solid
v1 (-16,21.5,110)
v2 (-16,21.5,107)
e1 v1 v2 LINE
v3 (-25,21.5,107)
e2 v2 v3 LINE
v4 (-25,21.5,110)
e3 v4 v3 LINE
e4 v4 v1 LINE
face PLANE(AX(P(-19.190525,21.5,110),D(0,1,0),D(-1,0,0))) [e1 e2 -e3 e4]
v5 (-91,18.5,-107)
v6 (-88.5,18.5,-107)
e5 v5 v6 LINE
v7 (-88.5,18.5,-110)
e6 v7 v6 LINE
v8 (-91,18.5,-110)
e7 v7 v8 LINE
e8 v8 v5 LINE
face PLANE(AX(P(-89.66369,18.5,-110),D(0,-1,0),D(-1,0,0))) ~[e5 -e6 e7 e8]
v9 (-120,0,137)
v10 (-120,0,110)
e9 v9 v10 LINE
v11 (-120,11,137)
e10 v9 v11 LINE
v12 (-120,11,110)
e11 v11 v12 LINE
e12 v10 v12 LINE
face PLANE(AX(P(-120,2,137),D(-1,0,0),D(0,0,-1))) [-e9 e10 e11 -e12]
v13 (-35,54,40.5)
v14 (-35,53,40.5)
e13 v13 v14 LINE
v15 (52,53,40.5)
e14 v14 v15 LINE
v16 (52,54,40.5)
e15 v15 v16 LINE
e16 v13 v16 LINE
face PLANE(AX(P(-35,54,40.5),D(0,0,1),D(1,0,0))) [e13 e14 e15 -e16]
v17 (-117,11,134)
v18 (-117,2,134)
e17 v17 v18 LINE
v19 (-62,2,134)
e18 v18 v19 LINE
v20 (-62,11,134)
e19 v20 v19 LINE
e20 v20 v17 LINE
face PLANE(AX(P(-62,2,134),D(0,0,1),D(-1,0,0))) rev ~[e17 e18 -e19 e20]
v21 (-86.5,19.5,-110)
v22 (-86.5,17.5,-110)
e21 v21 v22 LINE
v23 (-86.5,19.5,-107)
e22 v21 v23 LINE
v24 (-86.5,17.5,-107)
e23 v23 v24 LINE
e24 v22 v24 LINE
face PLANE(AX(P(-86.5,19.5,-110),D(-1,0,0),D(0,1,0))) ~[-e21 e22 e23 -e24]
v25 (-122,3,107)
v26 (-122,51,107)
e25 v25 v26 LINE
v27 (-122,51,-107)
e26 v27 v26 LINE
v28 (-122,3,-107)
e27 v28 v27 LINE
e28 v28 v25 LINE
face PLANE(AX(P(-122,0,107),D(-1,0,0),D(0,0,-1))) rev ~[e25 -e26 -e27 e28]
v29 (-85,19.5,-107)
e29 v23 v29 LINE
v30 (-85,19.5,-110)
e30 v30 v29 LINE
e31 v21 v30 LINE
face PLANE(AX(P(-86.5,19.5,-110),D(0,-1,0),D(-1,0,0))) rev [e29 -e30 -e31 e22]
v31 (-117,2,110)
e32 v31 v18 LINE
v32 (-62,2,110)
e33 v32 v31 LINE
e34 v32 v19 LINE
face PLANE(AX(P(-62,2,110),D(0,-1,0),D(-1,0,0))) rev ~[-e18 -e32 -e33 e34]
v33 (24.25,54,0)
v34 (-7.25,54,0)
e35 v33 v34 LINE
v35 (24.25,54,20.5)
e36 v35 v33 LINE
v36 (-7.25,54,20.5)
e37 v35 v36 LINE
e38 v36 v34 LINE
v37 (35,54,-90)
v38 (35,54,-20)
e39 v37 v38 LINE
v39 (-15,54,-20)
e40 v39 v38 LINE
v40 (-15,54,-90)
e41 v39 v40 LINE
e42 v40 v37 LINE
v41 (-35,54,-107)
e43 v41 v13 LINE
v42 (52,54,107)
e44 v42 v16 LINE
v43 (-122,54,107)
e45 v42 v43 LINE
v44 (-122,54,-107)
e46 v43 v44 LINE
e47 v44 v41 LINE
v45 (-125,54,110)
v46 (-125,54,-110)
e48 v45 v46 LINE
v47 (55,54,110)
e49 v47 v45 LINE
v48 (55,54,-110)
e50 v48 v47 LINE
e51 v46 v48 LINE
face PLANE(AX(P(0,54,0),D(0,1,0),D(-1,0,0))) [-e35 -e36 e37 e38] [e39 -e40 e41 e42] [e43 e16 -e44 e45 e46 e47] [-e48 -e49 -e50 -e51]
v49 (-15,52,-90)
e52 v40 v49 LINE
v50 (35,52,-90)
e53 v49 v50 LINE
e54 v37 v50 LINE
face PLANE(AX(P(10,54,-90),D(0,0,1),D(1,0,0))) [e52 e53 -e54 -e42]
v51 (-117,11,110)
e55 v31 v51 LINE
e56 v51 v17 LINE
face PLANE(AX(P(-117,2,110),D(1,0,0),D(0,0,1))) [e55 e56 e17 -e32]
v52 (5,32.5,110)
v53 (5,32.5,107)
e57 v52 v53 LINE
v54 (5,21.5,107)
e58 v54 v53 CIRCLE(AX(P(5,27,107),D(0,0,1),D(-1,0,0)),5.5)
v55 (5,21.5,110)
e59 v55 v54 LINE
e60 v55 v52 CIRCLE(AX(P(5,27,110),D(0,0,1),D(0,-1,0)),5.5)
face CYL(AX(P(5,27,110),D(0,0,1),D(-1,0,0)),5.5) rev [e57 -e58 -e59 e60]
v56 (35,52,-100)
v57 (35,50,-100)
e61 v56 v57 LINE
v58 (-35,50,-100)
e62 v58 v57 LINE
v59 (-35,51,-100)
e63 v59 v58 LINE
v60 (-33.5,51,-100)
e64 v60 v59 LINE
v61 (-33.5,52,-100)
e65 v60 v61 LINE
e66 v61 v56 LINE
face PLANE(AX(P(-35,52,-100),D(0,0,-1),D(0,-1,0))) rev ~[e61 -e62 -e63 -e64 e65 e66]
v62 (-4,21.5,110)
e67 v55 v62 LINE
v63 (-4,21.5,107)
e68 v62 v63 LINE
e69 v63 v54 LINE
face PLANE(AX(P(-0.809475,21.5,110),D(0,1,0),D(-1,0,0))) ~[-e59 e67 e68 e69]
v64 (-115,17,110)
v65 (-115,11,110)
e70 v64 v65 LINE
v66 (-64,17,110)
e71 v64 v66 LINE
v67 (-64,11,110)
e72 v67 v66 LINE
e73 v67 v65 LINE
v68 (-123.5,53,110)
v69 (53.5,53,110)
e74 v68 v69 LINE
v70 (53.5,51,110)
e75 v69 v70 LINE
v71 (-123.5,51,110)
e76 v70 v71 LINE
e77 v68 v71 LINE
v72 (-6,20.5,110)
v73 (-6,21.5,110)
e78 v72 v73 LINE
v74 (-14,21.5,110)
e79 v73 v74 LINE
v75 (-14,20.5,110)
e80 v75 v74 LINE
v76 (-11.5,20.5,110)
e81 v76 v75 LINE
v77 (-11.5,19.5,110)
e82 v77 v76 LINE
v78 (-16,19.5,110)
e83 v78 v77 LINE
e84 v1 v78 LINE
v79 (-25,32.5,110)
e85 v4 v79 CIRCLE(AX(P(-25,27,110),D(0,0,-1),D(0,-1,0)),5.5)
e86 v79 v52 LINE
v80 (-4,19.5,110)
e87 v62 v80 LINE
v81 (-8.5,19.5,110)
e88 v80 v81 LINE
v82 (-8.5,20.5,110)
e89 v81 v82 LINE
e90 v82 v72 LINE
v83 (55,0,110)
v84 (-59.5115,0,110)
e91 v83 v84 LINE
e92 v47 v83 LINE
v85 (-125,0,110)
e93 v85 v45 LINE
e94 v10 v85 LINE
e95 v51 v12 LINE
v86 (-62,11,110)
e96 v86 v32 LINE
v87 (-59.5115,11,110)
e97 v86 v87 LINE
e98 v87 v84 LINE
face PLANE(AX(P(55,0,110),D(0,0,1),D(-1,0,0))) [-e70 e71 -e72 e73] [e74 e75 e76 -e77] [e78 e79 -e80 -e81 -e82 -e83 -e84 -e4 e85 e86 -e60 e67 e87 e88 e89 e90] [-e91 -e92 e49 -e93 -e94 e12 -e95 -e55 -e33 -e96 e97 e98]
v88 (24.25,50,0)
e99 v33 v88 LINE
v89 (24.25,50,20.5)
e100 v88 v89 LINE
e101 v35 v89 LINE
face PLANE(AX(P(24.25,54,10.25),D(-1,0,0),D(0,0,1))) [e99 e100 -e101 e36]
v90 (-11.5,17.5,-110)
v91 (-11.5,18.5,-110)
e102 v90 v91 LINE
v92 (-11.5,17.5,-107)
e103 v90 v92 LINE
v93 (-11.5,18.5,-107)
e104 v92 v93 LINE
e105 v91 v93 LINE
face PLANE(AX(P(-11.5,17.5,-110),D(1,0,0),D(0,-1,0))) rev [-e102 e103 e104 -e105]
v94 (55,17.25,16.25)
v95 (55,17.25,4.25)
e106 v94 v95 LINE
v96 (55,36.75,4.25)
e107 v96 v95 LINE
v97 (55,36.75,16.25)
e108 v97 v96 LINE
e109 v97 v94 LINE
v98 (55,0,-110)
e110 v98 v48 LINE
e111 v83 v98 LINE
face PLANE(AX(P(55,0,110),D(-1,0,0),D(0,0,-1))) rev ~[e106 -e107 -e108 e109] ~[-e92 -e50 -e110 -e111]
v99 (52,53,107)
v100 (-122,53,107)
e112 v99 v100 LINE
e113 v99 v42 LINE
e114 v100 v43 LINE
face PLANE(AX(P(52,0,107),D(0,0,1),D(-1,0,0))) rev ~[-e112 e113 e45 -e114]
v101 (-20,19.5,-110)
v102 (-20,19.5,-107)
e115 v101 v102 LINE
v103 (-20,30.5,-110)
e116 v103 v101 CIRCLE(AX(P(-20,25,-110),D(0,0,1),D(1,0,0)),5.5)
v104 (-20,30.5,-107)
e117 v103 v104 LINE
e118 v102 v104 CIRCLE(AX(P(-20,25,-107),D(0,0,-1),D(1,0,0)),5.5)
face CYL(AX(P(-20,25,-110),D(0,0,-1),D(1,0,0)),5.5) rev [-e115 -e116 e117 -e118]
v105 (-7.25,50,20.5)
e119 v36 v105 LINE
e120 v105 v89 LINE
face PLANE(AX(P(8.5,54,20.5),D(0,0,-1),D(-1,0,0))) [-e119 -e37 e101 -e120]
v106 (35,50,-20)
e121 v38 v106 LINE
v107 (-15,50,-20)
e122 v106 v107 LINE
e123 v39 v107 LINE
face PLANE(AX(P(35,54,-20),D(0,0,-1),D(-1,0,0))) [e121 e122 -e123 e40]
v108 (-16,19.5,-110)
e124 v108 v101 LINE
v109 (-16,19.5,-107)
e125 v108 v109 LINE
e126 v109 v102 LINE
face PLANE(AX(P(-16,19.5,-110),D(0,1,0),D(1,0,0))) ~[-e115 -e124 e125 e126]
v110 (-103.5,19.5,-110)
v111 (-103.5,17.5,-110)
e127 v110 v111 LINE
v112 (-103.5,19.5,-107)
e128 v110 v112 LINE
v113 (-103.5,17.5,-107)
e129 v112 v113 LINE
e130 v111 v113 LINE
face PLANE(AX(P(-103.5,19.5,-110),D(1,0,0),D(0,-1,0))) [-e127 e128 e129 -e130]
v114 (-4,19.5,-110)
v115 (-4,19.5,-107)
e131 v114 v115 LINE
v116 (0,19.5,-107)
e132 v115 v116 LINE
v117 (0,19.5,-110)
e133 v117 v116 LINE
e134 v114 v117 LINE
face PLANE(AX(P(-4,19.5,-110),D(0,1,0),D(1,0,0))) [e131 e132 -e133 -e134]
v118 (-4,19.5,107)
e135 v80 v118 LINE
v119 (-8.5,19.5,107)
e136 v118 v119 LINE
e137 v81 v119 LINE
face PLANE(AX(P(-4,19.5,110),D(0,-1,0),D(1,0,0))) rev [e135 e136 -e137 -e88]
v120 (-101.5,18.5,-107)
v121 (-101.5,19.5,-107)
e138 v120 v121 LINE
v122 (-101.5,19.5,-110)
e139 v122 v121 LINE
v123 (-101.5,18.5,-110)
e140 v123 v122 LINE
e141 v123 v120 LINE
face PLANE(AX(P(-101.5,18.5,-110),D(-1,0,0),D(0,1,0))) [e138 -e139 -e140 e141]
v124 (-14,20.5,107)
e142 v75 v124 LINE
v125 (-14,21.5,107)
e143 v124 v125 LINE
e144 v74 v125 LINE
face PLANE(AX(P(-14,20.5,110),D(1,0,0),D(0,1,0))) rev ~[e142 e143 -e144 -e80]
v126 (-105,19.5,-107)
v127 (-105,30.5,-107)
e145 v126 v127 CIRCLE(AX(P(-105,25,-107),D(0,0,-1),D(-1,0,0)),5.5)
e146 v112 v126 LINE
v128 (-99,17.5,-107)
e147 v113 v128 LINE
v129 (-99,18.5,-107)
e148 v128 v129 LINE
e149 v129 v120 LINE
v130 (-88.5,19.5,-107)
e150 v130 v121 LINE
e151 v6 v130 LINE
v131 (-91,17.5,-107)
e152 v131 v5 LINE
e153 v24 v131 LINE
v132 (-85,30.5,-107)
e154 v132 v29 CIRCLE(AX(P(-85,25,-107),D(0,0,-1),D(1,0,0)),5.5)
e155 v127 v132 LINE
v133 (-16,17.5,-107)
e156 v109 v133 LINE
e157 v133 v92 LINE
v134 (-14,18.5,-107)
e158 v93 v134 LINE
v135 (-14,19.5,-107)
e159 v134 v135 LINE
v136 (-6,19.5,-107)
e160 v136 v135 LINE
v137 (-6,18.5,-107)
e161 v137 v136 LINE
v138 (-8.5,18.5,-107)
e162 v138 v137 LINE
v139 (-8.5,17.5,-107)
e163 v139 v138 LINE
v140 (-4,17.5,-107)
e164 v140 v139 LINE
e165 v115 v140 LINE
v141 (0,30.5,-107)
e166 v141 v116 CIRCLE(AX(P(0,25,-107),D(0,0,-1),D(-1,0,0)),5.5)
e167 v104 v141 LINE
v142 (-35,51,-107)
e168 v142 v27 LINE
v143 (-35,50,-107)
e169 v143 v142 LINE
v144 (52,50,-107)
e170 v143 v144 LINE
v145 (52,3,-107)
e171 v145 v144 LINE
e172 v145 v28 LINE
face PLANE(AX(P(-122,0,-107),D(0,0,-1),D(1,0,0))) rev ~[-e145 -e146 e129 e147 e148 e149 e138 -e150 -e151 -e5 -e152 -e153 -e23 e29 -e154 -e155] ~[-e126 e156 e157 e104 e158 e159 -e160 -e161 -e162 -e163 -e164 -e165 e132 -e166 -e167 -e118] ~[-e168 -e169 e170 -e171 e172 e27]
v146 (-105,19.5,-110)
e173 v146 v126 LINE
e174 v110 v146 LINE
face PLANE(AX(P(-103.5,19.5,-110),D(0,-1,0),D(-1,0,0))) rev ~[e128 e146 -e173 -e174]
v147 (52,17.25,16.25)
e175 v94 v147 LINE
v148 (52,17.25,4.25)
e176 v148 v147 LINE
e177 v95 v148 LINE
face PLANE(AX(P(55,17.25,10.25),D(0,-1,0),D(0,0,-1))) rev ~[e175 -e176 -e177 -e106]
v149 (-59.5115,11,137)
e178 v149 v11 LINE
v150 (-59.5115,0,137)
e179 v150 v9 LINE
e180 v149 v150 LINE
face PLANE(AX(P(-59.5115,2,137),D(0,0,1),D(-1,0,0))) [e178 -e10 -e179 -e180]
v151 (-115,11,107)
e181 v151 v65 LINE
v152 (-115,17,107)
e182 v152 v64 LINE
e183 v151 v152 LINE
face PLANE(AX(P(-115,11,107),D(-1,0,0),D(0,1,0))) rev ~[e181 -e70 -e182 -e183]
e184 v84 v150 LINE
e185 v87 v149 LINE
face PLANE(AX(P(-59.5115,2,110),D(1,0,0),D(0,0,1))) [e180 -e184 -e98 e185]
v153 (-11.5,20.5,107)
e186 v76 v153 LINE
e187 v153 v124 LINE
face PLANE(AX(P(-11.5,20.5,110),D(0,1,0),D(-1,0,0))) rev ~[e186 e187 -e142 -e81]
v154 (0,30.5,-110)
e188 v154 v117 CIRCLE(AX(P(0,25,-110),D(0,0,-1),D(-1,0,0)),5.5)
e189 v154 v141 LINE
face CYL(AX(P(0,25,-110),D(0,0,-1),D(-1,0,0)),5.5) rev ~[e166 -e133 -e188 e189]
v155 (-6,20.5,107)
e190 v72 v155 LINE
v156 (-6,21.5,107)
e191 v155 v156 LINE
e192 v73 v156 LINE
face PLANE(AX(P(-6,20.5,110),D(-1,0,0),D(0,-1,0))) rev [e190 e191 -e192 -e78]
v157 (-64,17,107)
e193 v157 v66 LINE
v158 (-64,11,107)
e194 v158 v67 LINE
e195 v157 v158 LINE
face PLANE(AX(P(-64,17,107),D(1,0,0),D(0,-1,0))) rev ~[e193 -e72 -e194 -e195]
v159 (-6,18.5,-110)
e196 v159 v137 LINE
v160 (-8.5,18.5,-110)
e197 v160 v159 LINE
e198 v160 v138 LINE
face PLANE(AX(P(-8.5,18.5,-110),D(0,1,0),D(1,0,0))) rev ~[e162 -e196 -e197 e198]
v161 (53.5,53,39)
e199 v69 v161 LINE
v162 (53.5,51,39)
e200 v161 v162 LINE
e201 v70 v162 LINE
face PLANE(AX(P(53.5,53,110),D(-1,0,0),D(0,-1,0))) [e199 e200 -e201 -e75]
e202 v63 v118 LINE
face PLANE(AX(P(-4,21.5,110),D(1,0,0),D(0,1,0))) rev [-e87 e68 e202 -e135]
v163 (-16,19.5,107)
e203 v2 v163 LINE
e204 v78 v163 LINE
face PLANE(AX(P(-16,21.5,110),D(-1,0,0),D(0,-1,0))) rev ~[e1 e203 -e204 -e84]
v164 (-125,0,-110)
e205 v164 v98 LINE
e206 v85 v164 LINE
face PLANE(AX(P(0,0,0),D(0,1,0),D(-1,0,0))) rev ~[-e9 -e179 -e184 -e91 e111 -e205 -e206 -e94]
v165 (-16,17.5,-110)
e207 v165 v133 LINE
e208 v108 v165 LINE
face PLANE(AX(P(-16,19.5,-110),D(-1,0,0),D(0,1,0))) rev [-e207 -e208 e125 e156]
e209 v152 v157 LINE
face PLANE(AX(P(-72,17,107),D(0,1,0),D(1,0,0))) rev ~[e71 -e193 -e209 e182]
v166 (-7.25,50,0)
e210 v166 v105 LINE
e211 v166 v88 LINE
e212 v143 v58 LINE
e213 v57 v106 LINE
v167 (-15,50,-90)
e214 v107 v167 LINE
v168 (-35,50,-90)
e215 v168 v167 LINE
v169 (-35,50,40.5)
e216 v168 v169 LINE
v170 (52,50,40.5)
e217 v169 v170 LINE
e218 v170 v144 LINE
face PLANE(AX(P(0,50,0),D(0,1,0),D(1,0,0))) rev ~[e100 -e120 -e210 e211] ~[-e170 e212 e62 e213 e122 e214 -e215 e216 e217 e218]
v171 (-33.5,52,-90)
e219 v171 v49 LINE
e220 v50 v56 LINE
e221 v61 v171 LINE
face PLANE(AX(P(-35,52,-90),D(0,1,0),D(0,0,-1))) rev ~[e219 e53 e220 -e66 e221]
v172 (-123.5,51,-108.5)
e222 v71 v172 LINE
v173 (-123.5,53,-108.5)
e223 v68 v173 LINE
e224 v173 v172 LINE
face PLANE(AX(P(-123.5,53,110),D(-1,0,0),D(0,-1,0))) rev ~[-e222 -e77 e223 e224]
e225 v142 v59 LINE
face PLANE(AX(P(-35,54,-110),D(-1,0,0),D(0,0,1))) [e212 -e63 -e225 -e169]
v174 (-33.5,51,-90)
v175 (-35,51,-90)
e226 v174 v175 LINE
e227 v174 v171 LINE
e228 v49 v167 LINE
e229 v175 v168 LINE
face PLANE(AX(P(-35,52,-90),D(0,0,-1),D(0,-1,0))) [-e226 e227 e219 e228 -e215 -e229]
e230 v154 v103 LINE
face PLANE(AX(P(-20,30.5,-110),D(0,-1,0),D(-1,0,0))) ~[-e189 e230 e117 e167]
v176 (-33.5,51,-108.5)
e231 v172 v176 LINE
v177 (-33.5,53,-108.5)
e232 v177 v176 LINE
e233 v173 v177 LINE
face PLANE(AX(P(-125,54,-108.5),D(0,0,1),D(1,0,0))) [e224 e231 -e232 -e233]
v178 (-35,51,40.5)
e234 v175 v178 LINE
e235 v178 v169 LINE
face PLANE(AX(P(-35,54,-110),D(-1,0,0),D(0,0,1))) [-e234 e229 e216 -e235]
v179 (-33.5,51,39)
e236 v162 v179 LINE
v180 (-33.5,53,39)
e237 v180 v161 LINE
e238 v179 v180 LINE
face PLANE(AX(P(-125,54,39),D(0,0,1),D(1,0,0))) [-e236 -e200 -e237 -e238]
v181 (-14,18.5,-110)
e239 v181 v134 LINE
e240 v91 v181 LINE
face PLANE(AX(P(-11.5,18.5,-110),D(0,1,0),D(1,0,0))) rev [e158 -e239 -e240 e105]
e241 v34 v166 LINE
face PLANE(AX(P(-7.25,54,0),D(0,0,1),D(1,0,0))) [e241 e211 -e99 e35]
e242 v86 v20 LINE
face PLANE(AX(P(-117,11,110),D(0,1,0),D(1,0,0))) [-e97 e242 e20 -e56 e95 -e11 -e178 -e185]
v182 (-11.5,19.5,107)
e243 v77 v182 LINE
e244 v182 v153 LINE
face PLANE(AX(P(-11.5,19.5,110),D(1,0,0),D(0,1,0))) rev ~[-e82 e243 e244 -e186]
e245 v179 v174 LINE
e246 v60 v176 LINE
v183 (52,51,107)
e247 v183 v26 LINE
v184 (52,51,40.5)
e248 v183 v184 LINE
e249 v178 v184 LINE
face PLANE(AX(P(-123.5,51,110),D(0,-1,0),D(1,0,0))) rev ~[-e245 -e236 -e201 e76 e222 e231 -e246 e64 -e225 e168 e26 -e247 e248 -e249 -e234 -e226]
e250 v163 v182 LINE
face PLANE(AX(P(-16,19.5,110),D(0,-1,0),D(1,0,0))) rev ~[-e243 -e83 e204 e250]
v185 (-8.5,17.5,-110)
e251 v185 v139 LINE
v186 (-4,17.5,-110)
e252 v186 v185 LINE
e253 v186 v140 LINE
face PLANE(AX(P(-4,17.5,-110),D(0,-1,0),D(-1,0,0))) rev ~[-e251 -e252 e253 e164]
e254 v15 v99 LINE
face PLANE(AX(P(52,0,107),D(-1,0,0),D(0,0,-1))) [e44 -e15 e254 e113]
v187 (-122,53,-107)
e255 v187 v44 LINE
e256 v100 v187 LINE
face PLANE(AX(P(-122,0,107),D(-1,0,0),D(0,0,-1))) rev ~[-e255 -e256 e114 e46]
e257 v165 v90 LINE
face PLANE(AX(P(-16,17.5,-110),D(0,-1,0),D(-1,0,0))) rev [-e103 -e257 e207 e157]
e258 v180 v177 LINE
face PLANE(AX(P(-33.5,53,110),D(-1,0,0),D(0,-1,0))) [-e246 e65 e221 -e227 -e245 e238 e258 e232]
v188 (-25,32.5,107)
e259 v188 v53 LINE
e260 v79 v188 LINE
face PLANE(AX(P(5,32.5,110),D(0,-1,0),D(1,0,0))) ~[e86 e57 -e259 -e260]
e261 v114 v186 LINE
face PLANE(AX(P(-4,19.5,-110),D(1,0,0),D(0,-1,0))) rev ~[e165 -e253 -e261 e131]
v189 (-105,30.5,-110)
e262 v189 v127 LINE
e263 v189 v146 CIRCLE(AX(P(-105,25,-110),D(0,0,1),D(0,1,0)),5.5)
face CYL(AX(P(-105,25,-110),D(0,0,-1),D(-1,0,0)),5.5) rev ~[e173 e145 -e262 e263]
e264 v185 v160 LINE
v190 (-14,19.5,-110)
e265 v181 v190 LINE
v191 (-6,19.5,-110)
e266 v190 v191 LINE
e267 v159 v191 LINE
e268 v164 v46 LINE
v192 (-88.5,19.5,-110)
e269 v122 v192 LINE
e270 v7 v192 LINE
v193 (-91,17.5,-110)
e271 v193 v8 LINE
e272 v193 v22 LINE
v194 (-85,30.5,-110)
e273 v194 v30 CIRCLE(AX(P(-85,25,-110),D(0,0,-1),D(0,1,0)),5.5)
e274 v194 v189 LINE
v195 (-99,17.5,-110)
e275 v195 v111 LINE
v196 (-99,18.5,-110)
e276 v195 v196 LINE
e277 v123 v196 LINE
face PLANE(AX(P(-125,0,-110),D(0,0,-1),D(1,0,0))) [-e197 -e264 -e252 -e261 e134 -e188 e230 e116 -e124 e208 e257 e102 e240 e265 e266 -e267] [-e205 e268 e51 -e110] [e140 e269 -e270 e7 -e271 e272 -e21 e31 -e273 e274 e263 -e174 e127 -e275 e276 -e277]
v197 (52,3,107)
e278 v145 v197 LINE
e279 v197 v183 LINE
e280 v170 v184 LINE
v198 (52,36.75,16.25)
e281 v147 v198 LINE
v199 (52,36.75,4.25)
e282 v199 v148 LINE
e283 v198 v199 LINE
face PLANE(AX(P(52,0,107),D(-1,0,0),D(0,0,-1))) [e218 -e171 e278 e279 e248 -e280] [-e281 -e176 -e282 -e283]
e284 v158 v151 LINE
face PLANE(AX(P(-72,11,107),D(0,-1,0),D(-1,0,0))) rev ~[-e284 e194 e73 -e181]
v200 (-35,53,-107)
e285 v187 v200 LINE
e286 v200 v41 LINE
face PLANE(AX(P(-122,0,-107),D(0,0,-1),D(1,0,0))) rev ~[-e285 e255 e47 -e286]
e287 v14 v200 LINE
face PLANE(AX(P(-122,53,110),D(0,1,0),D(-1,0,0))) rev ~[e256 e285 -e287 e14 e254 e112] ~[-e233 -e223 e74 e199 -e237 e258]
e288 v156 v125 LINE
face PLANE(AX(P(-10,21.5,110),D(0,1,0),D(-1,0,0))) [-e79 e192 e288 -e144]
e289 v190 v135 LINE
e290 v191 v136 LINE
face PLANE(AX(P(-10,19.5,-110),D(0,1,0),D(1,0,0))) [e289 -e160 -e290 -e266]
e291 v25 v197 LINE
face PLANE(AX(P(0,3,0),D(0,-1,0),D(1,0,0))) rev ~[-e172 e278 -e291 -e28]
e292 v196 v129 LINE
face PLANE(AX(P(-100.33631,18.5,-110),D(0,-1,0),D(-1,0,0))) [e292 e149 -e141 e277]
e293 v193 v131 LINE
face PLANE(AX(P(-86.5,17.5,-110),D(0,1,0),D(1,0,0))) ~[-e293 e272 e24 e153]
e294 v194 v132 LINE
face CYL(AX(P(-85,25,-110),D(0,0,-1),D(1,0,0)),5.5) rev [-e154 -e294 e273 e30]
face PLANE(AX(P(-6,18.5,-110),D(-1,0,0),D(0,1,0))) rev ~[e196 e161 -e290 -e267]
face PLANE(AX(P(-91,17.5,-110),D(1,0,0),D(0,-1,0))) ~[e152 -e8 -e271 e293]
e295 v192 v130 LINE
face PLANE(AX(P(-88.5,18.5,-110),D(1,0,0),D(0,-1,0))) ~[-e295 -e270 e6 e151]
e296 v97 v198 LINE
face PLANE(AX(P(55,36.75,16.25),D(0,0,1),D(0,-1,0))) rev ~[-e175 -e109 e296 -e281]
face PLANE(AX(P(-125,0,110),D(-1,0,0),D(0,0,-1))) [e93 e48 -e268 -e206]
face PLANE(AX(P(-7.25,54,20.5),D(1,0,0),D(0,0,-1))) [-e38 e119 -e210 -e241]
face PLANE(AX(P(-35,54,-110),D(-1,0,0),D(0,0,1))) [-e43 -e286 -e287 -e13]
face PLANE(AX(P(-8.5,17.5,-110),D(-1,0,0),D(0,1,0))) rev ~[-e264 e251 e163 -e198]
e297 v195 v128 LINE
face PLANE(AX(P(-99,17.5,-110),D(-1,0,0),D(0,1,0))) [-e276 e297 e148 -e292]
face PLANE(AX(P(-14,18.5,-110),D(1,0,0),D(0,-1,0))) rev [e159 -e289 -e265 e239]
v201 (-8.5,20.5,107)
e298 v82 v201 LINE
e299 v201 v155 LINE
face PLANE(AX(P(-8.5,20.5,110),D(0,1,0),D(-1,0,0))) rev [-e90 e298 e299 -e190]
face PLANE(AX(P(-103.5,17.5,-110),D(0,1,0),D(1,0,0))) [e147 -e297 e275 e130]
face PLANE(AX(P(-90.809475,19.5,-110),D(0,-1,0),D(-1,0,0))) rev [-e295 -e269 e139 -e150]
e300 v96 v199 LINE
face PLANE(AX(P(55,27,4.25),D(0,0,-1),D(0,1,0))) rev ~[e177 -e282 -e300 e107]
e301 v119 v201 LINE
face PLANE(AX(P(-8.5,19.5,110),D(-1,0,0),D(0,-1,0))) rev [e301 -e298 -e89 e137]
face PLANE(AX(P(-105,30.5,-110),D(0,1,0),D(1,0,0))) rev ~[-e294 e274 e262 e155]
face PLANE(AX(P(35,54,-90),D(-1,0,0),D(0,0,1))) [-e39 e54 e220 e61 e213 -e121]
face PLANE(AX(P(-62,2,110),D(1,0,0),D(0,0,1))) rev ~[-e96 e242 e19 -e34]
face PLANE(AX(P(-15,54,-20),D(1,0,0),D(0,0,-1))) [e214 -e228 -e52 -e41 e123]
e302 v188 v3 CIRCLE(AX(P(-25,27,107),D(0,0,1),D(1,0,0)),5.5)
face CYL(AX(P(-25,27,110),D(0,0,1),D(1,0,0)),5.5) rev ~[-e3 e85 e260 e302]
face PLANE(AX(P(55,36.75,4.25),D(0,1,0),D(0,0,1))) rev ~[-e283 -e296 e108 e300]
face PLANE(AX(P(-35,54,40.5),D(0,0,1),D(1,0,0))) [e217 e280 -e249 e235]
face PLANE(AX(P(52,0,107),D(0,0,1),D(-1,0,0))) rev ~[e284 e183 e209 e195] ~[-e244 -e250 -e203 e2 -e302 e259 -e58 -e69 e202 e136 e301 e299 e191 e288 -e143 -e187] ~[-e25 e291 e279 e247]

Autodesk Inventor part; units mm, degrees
sketch "Sketch1" plane through (0, 0, 0) normal (0, 1, 0) x (-1, 0, 0)
  line L0 (-122, 107) -> (122, 107)
  line L1 (122, 107) -> (122, -107)
  line L2 (122, -107) -> (-122, -107)
  line L3 (-122, -107) -> (-122, 107)
  line L4 (-122, 107) -> (122, -107) construction
  line L5 (122, 107) -> (-122, -107) construction
  line L6 (-125, 110) -> (125, 110)
  line L7 (125, 110) -> (125, -110)
  line L8 (125, -110) -> (-125, -110)
  line L9 (-125, -110) -> (-125, 110)
  line L10 (-125, 110) -> (125, -110) construction
  line L11 (125, 110) -> (-125, -110) construction
  line L12 (122, 107) -> (-52, 107)
  line L13 (-52, 107) -> (-52, -107)
  line L14 (125, 110) -> (-55, 110)
  line L15 (-55, 110) -> (-55, -110)
  point P0 (0, 0)
  dimension "d0" = 244
  dimension "d1" = 214
  dimension "d2" = 250
  dimension "d3" = 220
  dimension "d111" = 174
  dimension "d112" = 180
extrude "Extrusion1" add sketch "Sketch1" along normal blind 54 contours L0 L15 L6 L7 L8 L2 L1 | L13 L2 L15 L0
sketch "Sketch2" plane through (0, 0, 0) normal (0, -1, 0) x (1, 0, 0)
  line L0 (123.5, 110) -> (-123.5, 110)
  line L1 (-123.5, 110) -> (-123.5, -110)
  line L2 (-123.5, -110) -> (123.5, -110)
  line L3 (123.5, -110) -> (123.5, 110)
  line L4 (123.5, 110) -> (-123.5, -110) construction
  line L5 (-123.5, 110) -> (123.5, -110) construction
  line L6 (55, 110) -> (55, -110) projected
  line L7 (55, 110) -> (55, -110)
  point P0 (0, 0)
  dimension "d6" = 247
  dimension "d7" = 220
extrude "Extrusion2" add sketch "Sketch2" against normal blind 3 contours L6 L2 L1 L0
sketch "Sketch3" plane through (-125, 0, 110) normal (0, 0, 1) x (1, 0, 0)
  line L0 (0, 0) -> (0, 54) projected
  line L1 (0, 27) -> (100, 27)
  circle A0 centre (100, 27) radius 8
  circle A1 centre (100, 27) radius 5.5
  line L2 (100, 35) -> (115, 35)
  line L3 (115, 35) -> (115, 19)
  line L4 (115, 19) -> (100, 19)
  line L5 (100, 19) -> (100, 35)
  line L6 (100, 32.5) -> (115, 32.5)
  line L7 (115, 32.5) -> (115, 21.5)
  line L8 (115, 21.5) -> (100, 21.5)
  line L9 (100, 21.5) -> (100, 32.5)
  line L10 (100, 32.5) -> (109, 32.5)
  line L11 (109, 32.5) -> (109, 34.5)
  line L12 (109, 34.5) -> (113.5, 34.5)
  line L13 (113.5, 34.5) -> (113.5, 33.5)
  line L14 (113.5, 33.5) -> (111, 33.5)
  line L15 (111, 33.5) -> (111, 32.5)
  line L16 (100, 27) -> (115, 27)
  line L17 (109, 21.5) -> (109, 19.5)
  line L18 (109, 19.5) -> (113.5, 19.5)
  line L19 (113.5, 19.5) -> (113.5, 20.5)
  line L20 (113.5, 20.5) -> (111, 20.5)
  line L21 (111, 20.5) -> (111, 21.5)
  point P0 (125, 0)
  dimension "d10" = 100
  dimension "d11" = 16
  dimension "d12" = 11
  dimension "d13" = 15
  dimension "d14" = 9
  dimension "d15" = 2
  dimension "d16" = 4.5
  dimension "d17" = 2.5
extrude "Extrusion3" cut sketch "Sketch3" against normal blind 38 contours A1 L5 L1 | L1 L5 A1 | L16 A1 L5 | L5 A1 L16 | L6 A0 L16 A1 | A1 L16 A0 L8 | L6 L3 L16 A0 | A0 L16 L3 L8 | L8 L21 L20 L19 L18 L17
ref_plane "Work Plane2" through (-10, 21.5, 110) normal (-1, 0, 0) x (0, 0, 1)
mirror "Mirror1" about plane through (-10, 21.5, 110) normal (-1, 0, 0) of "Extrusion3"
sketch "Sketch5" plane through (125, 0, -110) normal (0, 0, -1) x (-1, 0, 0)
  line L0 (250, 6) -> (250, 25)
  line L1 (250, 25) -> (230, 25)
  circle A0 centre (230, 25) radius 8
  circle A1 centre (230, 25) radius 5.5
  line L2 (230, 33) -> (220, 33)
  line L3 (220, 33) -> (220, 17)
  line L4 (220, 17) -> (230, 17)
  line L5 (230, 17) -> (230, 33)
  line L6 (230, 30.5) -> (220, 30.5)
  line L7 (220, 30.5) -> (220, 19.5)
  line L8 (220, 19.5) -> (230, 19.5)
  line L9 (230, 19.5) -> (230, 30.5)
  line L10 (230, 30.5) -> (228.5, 30.5)
  line L11 (228.5, 30.5) -> (228.5, 32.5)
  line L12 (228.5, 32.5) -> (224, 32.5)
  line L13 (224, 32.5) -> (224, 31.5)
  line L14 (224, 31.5) -> (226.5, 31.5)
  line L15 (226.5, 31.5) -> (226.5, 30.5)
  line L16 (230, 25) -> (230, 0)
  line L17 (70, 0) -> (250, 0) projected
  line L18 (250, 0) -> (230, 0)
  line L19 (250, 0) -> (230, 0)
  line L20 (228.5, 19.5) -> (228.5, 17.5)
  line L21 (228.5, 17.5) -> (224, 17.5)
  line L22 (224, 17.5) -> (224, 18.5)
  line L23 (224, 18.5) -> (226.5, 18.5)
  line L24 (226.5, 18.5) -> (226.5, 19.5)
  point P0 (125, 0)
  point P1 (121.8464, -1.1281)
  point P2 (220.8464, 22.8719)
  point P3 (228.3464, 12.8719)
  point P4 (227.2161, 32.5)
  point P5 (225.3363, 31.5)
  point P6 (0, 0)
  point P7 (1.5, 0)
  dimension "d36" = 20
  dimension "d37" = 16
  dimension "d38" = 11
  dimension "d39" = 10
  dimension "d40" = 1.5
  dimension "d41" = 2
  dimension "d42" = 4.5
  dimension "d43" = 2.5
  dimension "d44" = 1
  dimension "d45" = 1
  dimension "d63" = 25
  dimension "d103" = 19
  dimension "d106" = 20
extrude "Extrusion5" cut sketch "Sketch5" against normal blind 10 contours A1 L5 L1 | L1 L5 A1 | L5 A1 | A1 L8 A0 L6 | L21 L22 L23 A0 | A0 L23 L24 L8 L20 L21 | L6 A0 L8 L3
ref_plane "Work Plane4" through (-95, 19.5, -110) normal (-1, 0, 0) x (0, 0, 1)
mirror "Mirror3" about plane through (-95, 19.5, -110) normal (-1, 0, 0) of "Extrusion5"
sketch "Sketch6" plane through (125, 0, -110) normal (0, 0, -1) x (-1, 0, 0)
  circle A0 centre (125, 25) radius 8
  circle A1 centre (125, 25) radius 5.5
  line L0 (125, 33) -> (135, 33)
  line L1 (135, 33) -> (135, 17)
  line L2 (135, 17) -> (125, 17)
  line L3 (125, 30.5) -> (135, 30.5)
  line L4 (135, 19.5) -> (125, 19.5)
  line L5 (125, 30.5) -> (129, 30.5)
  line L6 (129, 30.5) -> (129, 32.5)
  line L7 (129, 32.5) -> (133.5, 32.5)
  line L8 (133.5, 25) -> (133.5, 24.983)
  line L9 (133.5, 31.5) -> (131, 31.5)
  line L10 (131, 31.5) -> (131, 30.5)
  line L11 (116.2614, 18.9998) -> (135.2614, 18.9998) construction
  line L12 (133.5, 32.5) -> (133.5, 31.5)
  line L13 (250, 0) -> (250, 54) projected
  line L14 (250, 0) -> (125, 0)
  line L15 (70, 0) -> (250, 0) projected
  line L16 (125, 25) -> (125, 0)
  line L17 (125, 33) -> (125, 25)
  line L18 (125, 30.5) -> (125, 33)
  line L19 (131, 30.5) -> (131, 31.5)
  line L20 (135, 33) -> (135, 17)
  line L21 (125, 17) -> (135, 17)
  line L22 (125, 25) -> (135, 25)
  line L23 (129, 19.5) -> (129, 17.5)
  line L24 (129, 17.5) -> (133.5, 17.5)
  line L25 (133.5, 18.5) -> (131, 18.5)
  line L26 (131, 18.5) -> (131, 19.5)
  line L27 (133.5, 17.5) -> (133.5, 18.5)
  point P0 (125, 0)
  point P1 (219.2081, 3.6104)
  point P2 (112.7081, 17.6104)
  point P3 (127.7081, 27.6104)
  point P4 (0, 0)
  point P5 (1.5, 0)
  dimension "d50" = 16
  dimension "d51" = 11
  dimension "d54" = 2
  dimension "d55" = 4.5
  dimension "d56" = 2.5
  dimension "d57" = 1.5
  dimension "d104" = 25
  dimension "d105" = 125
extrude "Extrusion6" cut sketch "Sketch6" against normal blind 10 contours L3 A0 L22 A1 | L17 L16 A1 | A1 L22 L17 | L23 L4 A0 | A0 L4 L26 L25 L27 L24 L23 | L16 L22 A1 | A1 L22 A0 L4 | L3 L1 L22 A0 | A0 L22 L1 L4
ref_plane "Work Plane5" through (-10, 19.5, -110) normal (1, 0, 0) x (0, 0, -1)
mirror "Mirror4" about plane through (-10, 19.5, -110) normal (1, 0, 0) of "Extrusion6"
sketch "Sketch7" plane through (122, 50, 107) normal (0, 0, -1) x (-1, 0, 0)
  line L0 (70, -47) -> (244, -47) projected
  line L1 (75.0855, -47) -> (75.0855, -50)
  line L2 (75.0855, -50) -> (75.0855, -47)
  line L3 (0, -47) -> (184, -47)
  line L4 (184, -47) -> (184, -39)
  line L5 (184, -39) -> (239, -39)
  line L6 (239, -39) -> (239, -47)
  line L7 (184, -39) -> (194, -39)
  line L8 (239, -39) -> (229, -39)
  line L9 (194, -34.8824) -> (194, -33)
  line L10 (194, -33) -> (229, -33)
  line L11 (229, -33) -> (229, -34.8824)
  line L12 (244, -47) -> (244, 4) projected
  line L13 (184, -47) -> (211.5, -47)
  line L14 (211.5, -47) -> (211.5, -39)
  line L15 (237, -39) -> (237, -33)
  line L16 (237, -33) -> (186, -33)
  line L17 (186, -33) -> (186, -39)
  line L18 (186, -45) -> (237, -33) construction
  line L19 (237, -45) -> (186, -33) construction
  line L20 (186, -39) -> (237, -39)
  point P0 (122, -50)
  point P1 (244, 4)
  point P2 (239, -43)
  point P3 (2, -35)
  point P4 (245, -35)
  point P5 (247, -38)
  point P6 (186, -39)
  point P7 (237, -39)
  dimension "d65" = 8
  dimension "d66" = 55
  dimension "d67" = 10
  dimension "d68" = 10
  dimension "d69" = 6
  dimension "d89" = 5
  dimension "d90" = 51
extrude "Extrusion7" cut sketch "Sketch7" against normal blind 10 contours L5 L17 L16 L10 L15
sketch "Sketch17" plane through (-125, 0, 110) normal (0, 0, 1) x (1, 0, 0)
  line L0 (10, 11) -> (61, 11) projected
  line L1 (35.5, 11) -> (35.5, 0)
  line L2 (177, 3) -> (3, 3) projected
  line L3 (35.5, -2) -> (63, -2)
  line L4 (63, -2) -> (63, 2)
  line L5 (63, 2) -> (8, 2)
  line L6 (8, 2) -> (8, -2)
  line L7 (8, -2) -> (63, 2) construction
  line L8 (63, -2) -> (8, 2) construction
  line L9 (180, 0) -> (0, 0) projected
  line L10 (8, 0) -> (63, 0)
  point P0 (125, 0)
  point P1 (247, 3)
  point P2 (250, 0)
  point P3 (248.5, 0)
  dimension "d91" = 55
  dimension "d92" = 4
extrude "Extrusion11" add sketch "Sketch17" along normal blind 24
sketch "Sketch18" plane through (-117, 2, 110) normal (0, 1, 0) x (1, 0, 0)
  line L0 (0, 0) -> (0, -24) projected
  line L1 (0, 0) -> (55, 0)
  line L2 (55, 0) -> (55, -24)
  line L3 (55, -24) -> (0, -24)
  line L4 (0, -24) -> (0, 0)
  line L5 (0, 0) -> (-3, 0)
  line L6 (55, 0) -> (58, 0)
  line L7 (-3, 0) -> (57.4885, 0)
  line L8 (57.4885, 0) -> (57.4885, -27)
  line L9 (57.4885, -27) -> (-3, -27)
  line L10 (-3, -27) -> (-3, 0)
  point P0 (117, 110)
  point P1 (57.4885, 0)
  dimension "d95" = 3
  dimension "d96" = 3
  dimension "d97" = 27
extrude "Extrusion12" add sketch "Sketch18" along normal blind 9 and the other way blind 2 contours L0 L3 L2 L6 L8 L9 L10 L5
sketch "Sketch20" plane through (0, 54, 0) normal (0, 1, 0) x (1, 0, 0)
  point P0 (0, 0)
sketch "Sketch21" plane through (0, 54, 0) normal (0, 1, 0) x (1, 0, 0)
  line L0 (55, 110) -> (-125, 110) projected
  line L1 (55, 110) -> (-35, 110)
  line L2 (-35, 110) -> (-35, -40.5)
  line L3 (-35, -40.5) -> (55, -40.5)
  line L4 (55, -40.5) -> (55, 110)
  point P0 (0, 0)
  dimension "d113" = 90
  dimension "d114" = 150.5
extrude "Extrusion14" add sketch "Sketch21" against normal blind 4
sketch "Sketch22" plane through (0, 54, 0) normal (0, 1, 0) x (1, 0, 0)
  line L0 (55, 110) -> (-125, 110) projected
  line L1 (-35, 110) -> (10, 110)
  line L2 (10, 110) -> (10, -40.5)
  line L3 (52, -40.5) -> (-35, -40.5) projected
  line L4 (10, 110) -> (10, 90)
  line L5 (-35, -40.5) -> (-35, 107) projected
  line L6 (-35, 90) -> (-15, 90)
  line L7 (-35, 90) -> (-15, 90) construction
  line L8 (55, -110) -> (55, 110) projected
  line L9 (55, 90) -> (35, 90)
  line L10 (55, 90) -> (75, 90) construction
  line L11 (-15, 90) -> (35, 90)
  line L12 (35, 90) -> (35, 20)
  line L13 (35, 20) -> (-15, 20)
  line L14 (-15, 20) -> (-15, 90)
  point P0 (0, 0)
  dimension "d117" = 45
  dimension "d118" = 20
  dimension "d119" = 20
  dimension "d120" = 0
  dimension "d121" = 20
  dimension "d122" = 180
  dimension "d123" = 70
extrude "Extrusion15" cut sketch "Sketch22" against normal blind 4 contours L11 L12 L13 L2 | L2 L13 L14 L11
sketch "Sketch23" plane through (0, 54, 0) normal (0, 1, 0) x (1, 0, 0)
  line L0 (52, -40.5) -> (-35, -40.5) projected
  line L1 (8.5, -40.5) -> (8.5, 20)
  line L2 (-15, 20) -> (35, 20) projected
  line L3 (-35, -40.5) -> (-35, 107) projected
  line L4 (-35, -10.25) -> (55, -10.25)
  line L5 (-35, -10.25) -> (55, -10.25) construction
  line L6 (24.25, -20.5) -> (-7.25, -20.5)
  line L7 (-7.25, -20.5) -> (-7.25, 0)
  line L8 (-7.25, 0) -> (24.25, 0)
  line L9 (24.25, 0) -> (24.25, -20.5)
  line L10 (24.25, -20.5) -> (-7.25, 0) construction
  line L11 (-7.25, -20.5) -> (24.25, 0) construction
  point P0 (0, 0)
  point P1 (8.5, -10.25)
  dimension "d126" = 90
  dimension "d127" = 0
  dimension "d128" = 31.5
extrude "Extrusion16" cut sketch "Sketch23" against normal blind 4 contours L6 L7 L4 L1 | L1 L4 L9 L6 | L4 L7 L8 L1 | L1 L8 L9 L4
sketch "Sketch24" plane through (55, 0, 110) normal (1, 0, 0) x (0, 0, -1)
  line L0 (99.75, 54.0966) -> (99.75, 0)
  line L1 (217, 3) -> (3, 3) projected
  line L2 (0, 0) -> (0, 54) projected
  line L3 (0, 27) -> (220, 27)
  line L4 (220, 0) -> (220, 54) projected
  line L5 (93.75, 17.25) -> (105.75, 17.25)
  line L6 (105.75, 17.25) -> (105.75, 36.75)
  line L7 (105.75, 36.75) -> (93.75, 36.75)
  line L8 (93.75, 36.75) -> (93.75, 17.25)
  line L9 (93.75, 17.25) -> (105.75, 36.75) construction
  line L10 (105.75, 17.25) -> (93.75, 36.75) construction
  point P0 (110, 0)
  point P1 (99.75, 27)
  dimension "d131" = 12
  dimension "d132" = 19.5
extrude "Extrusion17" cut sketch "Sketch24" against normal blind 4
sketch "Sketch27" plane through (-35, 54, -107) normal (-1, 0, 0) x (0, 0, 1)
  line L0 (17, 0) -> (17, -4) projected
  line L1 (17, -4) -> (7, -4)
  line L2 (147.5, -4) -> (0, -4) projected
  line L3 (7, -4) -> (17, -4)
  line L4 (17, -4) -> (17, -2)
  line L5 (17, -2) -> (7, -2)
  line L6 (7, -2) -> (7, -4)
  point P0 (107, -54)
  dimension "d135" = 10
extrude "Extrusion18" cut sketch "Sketch27" against normal blind 70
sketch "Sketch29" plane through (-125, 54, 110) normal (0, 0, 1) x (1, 0, 0)
  line L0 (3, -51) -> (3, 0) projected
  line L1 (3, 0) -> (3, -1)
  line L2 (3, -1) -> (1.5, -1)
  line L3 (1.5, -1) -> (1.5, -3)
  line L4 (1.5, -3) -> (3, -3)
  line L5 (1.5, -1) -> (178.5, -1)
  line L6 (178.5, -1) -> (178.5, -3)
  line L7 (178.5, -3) -> (1.5, -3)
  line L8 (1.5, -3) -> (1.5, -1)
  line L9 (90, -4) -> (90, 0) projected
  line L10 (90, -1) -> (90, -3)
  line L11 (90, -1) -> (91.5, -1)
  line L12 (91.5, -1) -> (91.5, -3)
  line L13 (90, -3) -> (91.5, -3)
  point P0 (125, -54)
  point P1 (3, -1)
  dimension "d140" = 1
  dimension "d141" = 1.5
  dimension "d142" = 2
  dimension "d143" = 177
  dimension "d144" = 2
  dimension "d147" = 1.5
extrude "Extrusion20" cut sketch "Sketch29" against normal blind 218.5 contours L4 L3 L2 L0 | L0 L5 L9 L7 | L9 L5 L12 L7
sketch "Sketch30" plane through (-125, 54, 110) normal (0, 0, 1) x (1, 0, 0)
  line L0 (91.5, -1) -> (178.5, -1)
  line L1 (178.5, -1) -> (178.5, -3)
  line L2 (178.5, -3) -> (91.5, -3)
  line L3 (91.5, -3) -> (91.5, -1)
  point P0 (125, -54)
  dimension "d148" = 87
  dimension "d149" = 2
extrude "Extrusion21" cut sketch "Sketch30" against normal blind 71
properties part number "Main Case"
